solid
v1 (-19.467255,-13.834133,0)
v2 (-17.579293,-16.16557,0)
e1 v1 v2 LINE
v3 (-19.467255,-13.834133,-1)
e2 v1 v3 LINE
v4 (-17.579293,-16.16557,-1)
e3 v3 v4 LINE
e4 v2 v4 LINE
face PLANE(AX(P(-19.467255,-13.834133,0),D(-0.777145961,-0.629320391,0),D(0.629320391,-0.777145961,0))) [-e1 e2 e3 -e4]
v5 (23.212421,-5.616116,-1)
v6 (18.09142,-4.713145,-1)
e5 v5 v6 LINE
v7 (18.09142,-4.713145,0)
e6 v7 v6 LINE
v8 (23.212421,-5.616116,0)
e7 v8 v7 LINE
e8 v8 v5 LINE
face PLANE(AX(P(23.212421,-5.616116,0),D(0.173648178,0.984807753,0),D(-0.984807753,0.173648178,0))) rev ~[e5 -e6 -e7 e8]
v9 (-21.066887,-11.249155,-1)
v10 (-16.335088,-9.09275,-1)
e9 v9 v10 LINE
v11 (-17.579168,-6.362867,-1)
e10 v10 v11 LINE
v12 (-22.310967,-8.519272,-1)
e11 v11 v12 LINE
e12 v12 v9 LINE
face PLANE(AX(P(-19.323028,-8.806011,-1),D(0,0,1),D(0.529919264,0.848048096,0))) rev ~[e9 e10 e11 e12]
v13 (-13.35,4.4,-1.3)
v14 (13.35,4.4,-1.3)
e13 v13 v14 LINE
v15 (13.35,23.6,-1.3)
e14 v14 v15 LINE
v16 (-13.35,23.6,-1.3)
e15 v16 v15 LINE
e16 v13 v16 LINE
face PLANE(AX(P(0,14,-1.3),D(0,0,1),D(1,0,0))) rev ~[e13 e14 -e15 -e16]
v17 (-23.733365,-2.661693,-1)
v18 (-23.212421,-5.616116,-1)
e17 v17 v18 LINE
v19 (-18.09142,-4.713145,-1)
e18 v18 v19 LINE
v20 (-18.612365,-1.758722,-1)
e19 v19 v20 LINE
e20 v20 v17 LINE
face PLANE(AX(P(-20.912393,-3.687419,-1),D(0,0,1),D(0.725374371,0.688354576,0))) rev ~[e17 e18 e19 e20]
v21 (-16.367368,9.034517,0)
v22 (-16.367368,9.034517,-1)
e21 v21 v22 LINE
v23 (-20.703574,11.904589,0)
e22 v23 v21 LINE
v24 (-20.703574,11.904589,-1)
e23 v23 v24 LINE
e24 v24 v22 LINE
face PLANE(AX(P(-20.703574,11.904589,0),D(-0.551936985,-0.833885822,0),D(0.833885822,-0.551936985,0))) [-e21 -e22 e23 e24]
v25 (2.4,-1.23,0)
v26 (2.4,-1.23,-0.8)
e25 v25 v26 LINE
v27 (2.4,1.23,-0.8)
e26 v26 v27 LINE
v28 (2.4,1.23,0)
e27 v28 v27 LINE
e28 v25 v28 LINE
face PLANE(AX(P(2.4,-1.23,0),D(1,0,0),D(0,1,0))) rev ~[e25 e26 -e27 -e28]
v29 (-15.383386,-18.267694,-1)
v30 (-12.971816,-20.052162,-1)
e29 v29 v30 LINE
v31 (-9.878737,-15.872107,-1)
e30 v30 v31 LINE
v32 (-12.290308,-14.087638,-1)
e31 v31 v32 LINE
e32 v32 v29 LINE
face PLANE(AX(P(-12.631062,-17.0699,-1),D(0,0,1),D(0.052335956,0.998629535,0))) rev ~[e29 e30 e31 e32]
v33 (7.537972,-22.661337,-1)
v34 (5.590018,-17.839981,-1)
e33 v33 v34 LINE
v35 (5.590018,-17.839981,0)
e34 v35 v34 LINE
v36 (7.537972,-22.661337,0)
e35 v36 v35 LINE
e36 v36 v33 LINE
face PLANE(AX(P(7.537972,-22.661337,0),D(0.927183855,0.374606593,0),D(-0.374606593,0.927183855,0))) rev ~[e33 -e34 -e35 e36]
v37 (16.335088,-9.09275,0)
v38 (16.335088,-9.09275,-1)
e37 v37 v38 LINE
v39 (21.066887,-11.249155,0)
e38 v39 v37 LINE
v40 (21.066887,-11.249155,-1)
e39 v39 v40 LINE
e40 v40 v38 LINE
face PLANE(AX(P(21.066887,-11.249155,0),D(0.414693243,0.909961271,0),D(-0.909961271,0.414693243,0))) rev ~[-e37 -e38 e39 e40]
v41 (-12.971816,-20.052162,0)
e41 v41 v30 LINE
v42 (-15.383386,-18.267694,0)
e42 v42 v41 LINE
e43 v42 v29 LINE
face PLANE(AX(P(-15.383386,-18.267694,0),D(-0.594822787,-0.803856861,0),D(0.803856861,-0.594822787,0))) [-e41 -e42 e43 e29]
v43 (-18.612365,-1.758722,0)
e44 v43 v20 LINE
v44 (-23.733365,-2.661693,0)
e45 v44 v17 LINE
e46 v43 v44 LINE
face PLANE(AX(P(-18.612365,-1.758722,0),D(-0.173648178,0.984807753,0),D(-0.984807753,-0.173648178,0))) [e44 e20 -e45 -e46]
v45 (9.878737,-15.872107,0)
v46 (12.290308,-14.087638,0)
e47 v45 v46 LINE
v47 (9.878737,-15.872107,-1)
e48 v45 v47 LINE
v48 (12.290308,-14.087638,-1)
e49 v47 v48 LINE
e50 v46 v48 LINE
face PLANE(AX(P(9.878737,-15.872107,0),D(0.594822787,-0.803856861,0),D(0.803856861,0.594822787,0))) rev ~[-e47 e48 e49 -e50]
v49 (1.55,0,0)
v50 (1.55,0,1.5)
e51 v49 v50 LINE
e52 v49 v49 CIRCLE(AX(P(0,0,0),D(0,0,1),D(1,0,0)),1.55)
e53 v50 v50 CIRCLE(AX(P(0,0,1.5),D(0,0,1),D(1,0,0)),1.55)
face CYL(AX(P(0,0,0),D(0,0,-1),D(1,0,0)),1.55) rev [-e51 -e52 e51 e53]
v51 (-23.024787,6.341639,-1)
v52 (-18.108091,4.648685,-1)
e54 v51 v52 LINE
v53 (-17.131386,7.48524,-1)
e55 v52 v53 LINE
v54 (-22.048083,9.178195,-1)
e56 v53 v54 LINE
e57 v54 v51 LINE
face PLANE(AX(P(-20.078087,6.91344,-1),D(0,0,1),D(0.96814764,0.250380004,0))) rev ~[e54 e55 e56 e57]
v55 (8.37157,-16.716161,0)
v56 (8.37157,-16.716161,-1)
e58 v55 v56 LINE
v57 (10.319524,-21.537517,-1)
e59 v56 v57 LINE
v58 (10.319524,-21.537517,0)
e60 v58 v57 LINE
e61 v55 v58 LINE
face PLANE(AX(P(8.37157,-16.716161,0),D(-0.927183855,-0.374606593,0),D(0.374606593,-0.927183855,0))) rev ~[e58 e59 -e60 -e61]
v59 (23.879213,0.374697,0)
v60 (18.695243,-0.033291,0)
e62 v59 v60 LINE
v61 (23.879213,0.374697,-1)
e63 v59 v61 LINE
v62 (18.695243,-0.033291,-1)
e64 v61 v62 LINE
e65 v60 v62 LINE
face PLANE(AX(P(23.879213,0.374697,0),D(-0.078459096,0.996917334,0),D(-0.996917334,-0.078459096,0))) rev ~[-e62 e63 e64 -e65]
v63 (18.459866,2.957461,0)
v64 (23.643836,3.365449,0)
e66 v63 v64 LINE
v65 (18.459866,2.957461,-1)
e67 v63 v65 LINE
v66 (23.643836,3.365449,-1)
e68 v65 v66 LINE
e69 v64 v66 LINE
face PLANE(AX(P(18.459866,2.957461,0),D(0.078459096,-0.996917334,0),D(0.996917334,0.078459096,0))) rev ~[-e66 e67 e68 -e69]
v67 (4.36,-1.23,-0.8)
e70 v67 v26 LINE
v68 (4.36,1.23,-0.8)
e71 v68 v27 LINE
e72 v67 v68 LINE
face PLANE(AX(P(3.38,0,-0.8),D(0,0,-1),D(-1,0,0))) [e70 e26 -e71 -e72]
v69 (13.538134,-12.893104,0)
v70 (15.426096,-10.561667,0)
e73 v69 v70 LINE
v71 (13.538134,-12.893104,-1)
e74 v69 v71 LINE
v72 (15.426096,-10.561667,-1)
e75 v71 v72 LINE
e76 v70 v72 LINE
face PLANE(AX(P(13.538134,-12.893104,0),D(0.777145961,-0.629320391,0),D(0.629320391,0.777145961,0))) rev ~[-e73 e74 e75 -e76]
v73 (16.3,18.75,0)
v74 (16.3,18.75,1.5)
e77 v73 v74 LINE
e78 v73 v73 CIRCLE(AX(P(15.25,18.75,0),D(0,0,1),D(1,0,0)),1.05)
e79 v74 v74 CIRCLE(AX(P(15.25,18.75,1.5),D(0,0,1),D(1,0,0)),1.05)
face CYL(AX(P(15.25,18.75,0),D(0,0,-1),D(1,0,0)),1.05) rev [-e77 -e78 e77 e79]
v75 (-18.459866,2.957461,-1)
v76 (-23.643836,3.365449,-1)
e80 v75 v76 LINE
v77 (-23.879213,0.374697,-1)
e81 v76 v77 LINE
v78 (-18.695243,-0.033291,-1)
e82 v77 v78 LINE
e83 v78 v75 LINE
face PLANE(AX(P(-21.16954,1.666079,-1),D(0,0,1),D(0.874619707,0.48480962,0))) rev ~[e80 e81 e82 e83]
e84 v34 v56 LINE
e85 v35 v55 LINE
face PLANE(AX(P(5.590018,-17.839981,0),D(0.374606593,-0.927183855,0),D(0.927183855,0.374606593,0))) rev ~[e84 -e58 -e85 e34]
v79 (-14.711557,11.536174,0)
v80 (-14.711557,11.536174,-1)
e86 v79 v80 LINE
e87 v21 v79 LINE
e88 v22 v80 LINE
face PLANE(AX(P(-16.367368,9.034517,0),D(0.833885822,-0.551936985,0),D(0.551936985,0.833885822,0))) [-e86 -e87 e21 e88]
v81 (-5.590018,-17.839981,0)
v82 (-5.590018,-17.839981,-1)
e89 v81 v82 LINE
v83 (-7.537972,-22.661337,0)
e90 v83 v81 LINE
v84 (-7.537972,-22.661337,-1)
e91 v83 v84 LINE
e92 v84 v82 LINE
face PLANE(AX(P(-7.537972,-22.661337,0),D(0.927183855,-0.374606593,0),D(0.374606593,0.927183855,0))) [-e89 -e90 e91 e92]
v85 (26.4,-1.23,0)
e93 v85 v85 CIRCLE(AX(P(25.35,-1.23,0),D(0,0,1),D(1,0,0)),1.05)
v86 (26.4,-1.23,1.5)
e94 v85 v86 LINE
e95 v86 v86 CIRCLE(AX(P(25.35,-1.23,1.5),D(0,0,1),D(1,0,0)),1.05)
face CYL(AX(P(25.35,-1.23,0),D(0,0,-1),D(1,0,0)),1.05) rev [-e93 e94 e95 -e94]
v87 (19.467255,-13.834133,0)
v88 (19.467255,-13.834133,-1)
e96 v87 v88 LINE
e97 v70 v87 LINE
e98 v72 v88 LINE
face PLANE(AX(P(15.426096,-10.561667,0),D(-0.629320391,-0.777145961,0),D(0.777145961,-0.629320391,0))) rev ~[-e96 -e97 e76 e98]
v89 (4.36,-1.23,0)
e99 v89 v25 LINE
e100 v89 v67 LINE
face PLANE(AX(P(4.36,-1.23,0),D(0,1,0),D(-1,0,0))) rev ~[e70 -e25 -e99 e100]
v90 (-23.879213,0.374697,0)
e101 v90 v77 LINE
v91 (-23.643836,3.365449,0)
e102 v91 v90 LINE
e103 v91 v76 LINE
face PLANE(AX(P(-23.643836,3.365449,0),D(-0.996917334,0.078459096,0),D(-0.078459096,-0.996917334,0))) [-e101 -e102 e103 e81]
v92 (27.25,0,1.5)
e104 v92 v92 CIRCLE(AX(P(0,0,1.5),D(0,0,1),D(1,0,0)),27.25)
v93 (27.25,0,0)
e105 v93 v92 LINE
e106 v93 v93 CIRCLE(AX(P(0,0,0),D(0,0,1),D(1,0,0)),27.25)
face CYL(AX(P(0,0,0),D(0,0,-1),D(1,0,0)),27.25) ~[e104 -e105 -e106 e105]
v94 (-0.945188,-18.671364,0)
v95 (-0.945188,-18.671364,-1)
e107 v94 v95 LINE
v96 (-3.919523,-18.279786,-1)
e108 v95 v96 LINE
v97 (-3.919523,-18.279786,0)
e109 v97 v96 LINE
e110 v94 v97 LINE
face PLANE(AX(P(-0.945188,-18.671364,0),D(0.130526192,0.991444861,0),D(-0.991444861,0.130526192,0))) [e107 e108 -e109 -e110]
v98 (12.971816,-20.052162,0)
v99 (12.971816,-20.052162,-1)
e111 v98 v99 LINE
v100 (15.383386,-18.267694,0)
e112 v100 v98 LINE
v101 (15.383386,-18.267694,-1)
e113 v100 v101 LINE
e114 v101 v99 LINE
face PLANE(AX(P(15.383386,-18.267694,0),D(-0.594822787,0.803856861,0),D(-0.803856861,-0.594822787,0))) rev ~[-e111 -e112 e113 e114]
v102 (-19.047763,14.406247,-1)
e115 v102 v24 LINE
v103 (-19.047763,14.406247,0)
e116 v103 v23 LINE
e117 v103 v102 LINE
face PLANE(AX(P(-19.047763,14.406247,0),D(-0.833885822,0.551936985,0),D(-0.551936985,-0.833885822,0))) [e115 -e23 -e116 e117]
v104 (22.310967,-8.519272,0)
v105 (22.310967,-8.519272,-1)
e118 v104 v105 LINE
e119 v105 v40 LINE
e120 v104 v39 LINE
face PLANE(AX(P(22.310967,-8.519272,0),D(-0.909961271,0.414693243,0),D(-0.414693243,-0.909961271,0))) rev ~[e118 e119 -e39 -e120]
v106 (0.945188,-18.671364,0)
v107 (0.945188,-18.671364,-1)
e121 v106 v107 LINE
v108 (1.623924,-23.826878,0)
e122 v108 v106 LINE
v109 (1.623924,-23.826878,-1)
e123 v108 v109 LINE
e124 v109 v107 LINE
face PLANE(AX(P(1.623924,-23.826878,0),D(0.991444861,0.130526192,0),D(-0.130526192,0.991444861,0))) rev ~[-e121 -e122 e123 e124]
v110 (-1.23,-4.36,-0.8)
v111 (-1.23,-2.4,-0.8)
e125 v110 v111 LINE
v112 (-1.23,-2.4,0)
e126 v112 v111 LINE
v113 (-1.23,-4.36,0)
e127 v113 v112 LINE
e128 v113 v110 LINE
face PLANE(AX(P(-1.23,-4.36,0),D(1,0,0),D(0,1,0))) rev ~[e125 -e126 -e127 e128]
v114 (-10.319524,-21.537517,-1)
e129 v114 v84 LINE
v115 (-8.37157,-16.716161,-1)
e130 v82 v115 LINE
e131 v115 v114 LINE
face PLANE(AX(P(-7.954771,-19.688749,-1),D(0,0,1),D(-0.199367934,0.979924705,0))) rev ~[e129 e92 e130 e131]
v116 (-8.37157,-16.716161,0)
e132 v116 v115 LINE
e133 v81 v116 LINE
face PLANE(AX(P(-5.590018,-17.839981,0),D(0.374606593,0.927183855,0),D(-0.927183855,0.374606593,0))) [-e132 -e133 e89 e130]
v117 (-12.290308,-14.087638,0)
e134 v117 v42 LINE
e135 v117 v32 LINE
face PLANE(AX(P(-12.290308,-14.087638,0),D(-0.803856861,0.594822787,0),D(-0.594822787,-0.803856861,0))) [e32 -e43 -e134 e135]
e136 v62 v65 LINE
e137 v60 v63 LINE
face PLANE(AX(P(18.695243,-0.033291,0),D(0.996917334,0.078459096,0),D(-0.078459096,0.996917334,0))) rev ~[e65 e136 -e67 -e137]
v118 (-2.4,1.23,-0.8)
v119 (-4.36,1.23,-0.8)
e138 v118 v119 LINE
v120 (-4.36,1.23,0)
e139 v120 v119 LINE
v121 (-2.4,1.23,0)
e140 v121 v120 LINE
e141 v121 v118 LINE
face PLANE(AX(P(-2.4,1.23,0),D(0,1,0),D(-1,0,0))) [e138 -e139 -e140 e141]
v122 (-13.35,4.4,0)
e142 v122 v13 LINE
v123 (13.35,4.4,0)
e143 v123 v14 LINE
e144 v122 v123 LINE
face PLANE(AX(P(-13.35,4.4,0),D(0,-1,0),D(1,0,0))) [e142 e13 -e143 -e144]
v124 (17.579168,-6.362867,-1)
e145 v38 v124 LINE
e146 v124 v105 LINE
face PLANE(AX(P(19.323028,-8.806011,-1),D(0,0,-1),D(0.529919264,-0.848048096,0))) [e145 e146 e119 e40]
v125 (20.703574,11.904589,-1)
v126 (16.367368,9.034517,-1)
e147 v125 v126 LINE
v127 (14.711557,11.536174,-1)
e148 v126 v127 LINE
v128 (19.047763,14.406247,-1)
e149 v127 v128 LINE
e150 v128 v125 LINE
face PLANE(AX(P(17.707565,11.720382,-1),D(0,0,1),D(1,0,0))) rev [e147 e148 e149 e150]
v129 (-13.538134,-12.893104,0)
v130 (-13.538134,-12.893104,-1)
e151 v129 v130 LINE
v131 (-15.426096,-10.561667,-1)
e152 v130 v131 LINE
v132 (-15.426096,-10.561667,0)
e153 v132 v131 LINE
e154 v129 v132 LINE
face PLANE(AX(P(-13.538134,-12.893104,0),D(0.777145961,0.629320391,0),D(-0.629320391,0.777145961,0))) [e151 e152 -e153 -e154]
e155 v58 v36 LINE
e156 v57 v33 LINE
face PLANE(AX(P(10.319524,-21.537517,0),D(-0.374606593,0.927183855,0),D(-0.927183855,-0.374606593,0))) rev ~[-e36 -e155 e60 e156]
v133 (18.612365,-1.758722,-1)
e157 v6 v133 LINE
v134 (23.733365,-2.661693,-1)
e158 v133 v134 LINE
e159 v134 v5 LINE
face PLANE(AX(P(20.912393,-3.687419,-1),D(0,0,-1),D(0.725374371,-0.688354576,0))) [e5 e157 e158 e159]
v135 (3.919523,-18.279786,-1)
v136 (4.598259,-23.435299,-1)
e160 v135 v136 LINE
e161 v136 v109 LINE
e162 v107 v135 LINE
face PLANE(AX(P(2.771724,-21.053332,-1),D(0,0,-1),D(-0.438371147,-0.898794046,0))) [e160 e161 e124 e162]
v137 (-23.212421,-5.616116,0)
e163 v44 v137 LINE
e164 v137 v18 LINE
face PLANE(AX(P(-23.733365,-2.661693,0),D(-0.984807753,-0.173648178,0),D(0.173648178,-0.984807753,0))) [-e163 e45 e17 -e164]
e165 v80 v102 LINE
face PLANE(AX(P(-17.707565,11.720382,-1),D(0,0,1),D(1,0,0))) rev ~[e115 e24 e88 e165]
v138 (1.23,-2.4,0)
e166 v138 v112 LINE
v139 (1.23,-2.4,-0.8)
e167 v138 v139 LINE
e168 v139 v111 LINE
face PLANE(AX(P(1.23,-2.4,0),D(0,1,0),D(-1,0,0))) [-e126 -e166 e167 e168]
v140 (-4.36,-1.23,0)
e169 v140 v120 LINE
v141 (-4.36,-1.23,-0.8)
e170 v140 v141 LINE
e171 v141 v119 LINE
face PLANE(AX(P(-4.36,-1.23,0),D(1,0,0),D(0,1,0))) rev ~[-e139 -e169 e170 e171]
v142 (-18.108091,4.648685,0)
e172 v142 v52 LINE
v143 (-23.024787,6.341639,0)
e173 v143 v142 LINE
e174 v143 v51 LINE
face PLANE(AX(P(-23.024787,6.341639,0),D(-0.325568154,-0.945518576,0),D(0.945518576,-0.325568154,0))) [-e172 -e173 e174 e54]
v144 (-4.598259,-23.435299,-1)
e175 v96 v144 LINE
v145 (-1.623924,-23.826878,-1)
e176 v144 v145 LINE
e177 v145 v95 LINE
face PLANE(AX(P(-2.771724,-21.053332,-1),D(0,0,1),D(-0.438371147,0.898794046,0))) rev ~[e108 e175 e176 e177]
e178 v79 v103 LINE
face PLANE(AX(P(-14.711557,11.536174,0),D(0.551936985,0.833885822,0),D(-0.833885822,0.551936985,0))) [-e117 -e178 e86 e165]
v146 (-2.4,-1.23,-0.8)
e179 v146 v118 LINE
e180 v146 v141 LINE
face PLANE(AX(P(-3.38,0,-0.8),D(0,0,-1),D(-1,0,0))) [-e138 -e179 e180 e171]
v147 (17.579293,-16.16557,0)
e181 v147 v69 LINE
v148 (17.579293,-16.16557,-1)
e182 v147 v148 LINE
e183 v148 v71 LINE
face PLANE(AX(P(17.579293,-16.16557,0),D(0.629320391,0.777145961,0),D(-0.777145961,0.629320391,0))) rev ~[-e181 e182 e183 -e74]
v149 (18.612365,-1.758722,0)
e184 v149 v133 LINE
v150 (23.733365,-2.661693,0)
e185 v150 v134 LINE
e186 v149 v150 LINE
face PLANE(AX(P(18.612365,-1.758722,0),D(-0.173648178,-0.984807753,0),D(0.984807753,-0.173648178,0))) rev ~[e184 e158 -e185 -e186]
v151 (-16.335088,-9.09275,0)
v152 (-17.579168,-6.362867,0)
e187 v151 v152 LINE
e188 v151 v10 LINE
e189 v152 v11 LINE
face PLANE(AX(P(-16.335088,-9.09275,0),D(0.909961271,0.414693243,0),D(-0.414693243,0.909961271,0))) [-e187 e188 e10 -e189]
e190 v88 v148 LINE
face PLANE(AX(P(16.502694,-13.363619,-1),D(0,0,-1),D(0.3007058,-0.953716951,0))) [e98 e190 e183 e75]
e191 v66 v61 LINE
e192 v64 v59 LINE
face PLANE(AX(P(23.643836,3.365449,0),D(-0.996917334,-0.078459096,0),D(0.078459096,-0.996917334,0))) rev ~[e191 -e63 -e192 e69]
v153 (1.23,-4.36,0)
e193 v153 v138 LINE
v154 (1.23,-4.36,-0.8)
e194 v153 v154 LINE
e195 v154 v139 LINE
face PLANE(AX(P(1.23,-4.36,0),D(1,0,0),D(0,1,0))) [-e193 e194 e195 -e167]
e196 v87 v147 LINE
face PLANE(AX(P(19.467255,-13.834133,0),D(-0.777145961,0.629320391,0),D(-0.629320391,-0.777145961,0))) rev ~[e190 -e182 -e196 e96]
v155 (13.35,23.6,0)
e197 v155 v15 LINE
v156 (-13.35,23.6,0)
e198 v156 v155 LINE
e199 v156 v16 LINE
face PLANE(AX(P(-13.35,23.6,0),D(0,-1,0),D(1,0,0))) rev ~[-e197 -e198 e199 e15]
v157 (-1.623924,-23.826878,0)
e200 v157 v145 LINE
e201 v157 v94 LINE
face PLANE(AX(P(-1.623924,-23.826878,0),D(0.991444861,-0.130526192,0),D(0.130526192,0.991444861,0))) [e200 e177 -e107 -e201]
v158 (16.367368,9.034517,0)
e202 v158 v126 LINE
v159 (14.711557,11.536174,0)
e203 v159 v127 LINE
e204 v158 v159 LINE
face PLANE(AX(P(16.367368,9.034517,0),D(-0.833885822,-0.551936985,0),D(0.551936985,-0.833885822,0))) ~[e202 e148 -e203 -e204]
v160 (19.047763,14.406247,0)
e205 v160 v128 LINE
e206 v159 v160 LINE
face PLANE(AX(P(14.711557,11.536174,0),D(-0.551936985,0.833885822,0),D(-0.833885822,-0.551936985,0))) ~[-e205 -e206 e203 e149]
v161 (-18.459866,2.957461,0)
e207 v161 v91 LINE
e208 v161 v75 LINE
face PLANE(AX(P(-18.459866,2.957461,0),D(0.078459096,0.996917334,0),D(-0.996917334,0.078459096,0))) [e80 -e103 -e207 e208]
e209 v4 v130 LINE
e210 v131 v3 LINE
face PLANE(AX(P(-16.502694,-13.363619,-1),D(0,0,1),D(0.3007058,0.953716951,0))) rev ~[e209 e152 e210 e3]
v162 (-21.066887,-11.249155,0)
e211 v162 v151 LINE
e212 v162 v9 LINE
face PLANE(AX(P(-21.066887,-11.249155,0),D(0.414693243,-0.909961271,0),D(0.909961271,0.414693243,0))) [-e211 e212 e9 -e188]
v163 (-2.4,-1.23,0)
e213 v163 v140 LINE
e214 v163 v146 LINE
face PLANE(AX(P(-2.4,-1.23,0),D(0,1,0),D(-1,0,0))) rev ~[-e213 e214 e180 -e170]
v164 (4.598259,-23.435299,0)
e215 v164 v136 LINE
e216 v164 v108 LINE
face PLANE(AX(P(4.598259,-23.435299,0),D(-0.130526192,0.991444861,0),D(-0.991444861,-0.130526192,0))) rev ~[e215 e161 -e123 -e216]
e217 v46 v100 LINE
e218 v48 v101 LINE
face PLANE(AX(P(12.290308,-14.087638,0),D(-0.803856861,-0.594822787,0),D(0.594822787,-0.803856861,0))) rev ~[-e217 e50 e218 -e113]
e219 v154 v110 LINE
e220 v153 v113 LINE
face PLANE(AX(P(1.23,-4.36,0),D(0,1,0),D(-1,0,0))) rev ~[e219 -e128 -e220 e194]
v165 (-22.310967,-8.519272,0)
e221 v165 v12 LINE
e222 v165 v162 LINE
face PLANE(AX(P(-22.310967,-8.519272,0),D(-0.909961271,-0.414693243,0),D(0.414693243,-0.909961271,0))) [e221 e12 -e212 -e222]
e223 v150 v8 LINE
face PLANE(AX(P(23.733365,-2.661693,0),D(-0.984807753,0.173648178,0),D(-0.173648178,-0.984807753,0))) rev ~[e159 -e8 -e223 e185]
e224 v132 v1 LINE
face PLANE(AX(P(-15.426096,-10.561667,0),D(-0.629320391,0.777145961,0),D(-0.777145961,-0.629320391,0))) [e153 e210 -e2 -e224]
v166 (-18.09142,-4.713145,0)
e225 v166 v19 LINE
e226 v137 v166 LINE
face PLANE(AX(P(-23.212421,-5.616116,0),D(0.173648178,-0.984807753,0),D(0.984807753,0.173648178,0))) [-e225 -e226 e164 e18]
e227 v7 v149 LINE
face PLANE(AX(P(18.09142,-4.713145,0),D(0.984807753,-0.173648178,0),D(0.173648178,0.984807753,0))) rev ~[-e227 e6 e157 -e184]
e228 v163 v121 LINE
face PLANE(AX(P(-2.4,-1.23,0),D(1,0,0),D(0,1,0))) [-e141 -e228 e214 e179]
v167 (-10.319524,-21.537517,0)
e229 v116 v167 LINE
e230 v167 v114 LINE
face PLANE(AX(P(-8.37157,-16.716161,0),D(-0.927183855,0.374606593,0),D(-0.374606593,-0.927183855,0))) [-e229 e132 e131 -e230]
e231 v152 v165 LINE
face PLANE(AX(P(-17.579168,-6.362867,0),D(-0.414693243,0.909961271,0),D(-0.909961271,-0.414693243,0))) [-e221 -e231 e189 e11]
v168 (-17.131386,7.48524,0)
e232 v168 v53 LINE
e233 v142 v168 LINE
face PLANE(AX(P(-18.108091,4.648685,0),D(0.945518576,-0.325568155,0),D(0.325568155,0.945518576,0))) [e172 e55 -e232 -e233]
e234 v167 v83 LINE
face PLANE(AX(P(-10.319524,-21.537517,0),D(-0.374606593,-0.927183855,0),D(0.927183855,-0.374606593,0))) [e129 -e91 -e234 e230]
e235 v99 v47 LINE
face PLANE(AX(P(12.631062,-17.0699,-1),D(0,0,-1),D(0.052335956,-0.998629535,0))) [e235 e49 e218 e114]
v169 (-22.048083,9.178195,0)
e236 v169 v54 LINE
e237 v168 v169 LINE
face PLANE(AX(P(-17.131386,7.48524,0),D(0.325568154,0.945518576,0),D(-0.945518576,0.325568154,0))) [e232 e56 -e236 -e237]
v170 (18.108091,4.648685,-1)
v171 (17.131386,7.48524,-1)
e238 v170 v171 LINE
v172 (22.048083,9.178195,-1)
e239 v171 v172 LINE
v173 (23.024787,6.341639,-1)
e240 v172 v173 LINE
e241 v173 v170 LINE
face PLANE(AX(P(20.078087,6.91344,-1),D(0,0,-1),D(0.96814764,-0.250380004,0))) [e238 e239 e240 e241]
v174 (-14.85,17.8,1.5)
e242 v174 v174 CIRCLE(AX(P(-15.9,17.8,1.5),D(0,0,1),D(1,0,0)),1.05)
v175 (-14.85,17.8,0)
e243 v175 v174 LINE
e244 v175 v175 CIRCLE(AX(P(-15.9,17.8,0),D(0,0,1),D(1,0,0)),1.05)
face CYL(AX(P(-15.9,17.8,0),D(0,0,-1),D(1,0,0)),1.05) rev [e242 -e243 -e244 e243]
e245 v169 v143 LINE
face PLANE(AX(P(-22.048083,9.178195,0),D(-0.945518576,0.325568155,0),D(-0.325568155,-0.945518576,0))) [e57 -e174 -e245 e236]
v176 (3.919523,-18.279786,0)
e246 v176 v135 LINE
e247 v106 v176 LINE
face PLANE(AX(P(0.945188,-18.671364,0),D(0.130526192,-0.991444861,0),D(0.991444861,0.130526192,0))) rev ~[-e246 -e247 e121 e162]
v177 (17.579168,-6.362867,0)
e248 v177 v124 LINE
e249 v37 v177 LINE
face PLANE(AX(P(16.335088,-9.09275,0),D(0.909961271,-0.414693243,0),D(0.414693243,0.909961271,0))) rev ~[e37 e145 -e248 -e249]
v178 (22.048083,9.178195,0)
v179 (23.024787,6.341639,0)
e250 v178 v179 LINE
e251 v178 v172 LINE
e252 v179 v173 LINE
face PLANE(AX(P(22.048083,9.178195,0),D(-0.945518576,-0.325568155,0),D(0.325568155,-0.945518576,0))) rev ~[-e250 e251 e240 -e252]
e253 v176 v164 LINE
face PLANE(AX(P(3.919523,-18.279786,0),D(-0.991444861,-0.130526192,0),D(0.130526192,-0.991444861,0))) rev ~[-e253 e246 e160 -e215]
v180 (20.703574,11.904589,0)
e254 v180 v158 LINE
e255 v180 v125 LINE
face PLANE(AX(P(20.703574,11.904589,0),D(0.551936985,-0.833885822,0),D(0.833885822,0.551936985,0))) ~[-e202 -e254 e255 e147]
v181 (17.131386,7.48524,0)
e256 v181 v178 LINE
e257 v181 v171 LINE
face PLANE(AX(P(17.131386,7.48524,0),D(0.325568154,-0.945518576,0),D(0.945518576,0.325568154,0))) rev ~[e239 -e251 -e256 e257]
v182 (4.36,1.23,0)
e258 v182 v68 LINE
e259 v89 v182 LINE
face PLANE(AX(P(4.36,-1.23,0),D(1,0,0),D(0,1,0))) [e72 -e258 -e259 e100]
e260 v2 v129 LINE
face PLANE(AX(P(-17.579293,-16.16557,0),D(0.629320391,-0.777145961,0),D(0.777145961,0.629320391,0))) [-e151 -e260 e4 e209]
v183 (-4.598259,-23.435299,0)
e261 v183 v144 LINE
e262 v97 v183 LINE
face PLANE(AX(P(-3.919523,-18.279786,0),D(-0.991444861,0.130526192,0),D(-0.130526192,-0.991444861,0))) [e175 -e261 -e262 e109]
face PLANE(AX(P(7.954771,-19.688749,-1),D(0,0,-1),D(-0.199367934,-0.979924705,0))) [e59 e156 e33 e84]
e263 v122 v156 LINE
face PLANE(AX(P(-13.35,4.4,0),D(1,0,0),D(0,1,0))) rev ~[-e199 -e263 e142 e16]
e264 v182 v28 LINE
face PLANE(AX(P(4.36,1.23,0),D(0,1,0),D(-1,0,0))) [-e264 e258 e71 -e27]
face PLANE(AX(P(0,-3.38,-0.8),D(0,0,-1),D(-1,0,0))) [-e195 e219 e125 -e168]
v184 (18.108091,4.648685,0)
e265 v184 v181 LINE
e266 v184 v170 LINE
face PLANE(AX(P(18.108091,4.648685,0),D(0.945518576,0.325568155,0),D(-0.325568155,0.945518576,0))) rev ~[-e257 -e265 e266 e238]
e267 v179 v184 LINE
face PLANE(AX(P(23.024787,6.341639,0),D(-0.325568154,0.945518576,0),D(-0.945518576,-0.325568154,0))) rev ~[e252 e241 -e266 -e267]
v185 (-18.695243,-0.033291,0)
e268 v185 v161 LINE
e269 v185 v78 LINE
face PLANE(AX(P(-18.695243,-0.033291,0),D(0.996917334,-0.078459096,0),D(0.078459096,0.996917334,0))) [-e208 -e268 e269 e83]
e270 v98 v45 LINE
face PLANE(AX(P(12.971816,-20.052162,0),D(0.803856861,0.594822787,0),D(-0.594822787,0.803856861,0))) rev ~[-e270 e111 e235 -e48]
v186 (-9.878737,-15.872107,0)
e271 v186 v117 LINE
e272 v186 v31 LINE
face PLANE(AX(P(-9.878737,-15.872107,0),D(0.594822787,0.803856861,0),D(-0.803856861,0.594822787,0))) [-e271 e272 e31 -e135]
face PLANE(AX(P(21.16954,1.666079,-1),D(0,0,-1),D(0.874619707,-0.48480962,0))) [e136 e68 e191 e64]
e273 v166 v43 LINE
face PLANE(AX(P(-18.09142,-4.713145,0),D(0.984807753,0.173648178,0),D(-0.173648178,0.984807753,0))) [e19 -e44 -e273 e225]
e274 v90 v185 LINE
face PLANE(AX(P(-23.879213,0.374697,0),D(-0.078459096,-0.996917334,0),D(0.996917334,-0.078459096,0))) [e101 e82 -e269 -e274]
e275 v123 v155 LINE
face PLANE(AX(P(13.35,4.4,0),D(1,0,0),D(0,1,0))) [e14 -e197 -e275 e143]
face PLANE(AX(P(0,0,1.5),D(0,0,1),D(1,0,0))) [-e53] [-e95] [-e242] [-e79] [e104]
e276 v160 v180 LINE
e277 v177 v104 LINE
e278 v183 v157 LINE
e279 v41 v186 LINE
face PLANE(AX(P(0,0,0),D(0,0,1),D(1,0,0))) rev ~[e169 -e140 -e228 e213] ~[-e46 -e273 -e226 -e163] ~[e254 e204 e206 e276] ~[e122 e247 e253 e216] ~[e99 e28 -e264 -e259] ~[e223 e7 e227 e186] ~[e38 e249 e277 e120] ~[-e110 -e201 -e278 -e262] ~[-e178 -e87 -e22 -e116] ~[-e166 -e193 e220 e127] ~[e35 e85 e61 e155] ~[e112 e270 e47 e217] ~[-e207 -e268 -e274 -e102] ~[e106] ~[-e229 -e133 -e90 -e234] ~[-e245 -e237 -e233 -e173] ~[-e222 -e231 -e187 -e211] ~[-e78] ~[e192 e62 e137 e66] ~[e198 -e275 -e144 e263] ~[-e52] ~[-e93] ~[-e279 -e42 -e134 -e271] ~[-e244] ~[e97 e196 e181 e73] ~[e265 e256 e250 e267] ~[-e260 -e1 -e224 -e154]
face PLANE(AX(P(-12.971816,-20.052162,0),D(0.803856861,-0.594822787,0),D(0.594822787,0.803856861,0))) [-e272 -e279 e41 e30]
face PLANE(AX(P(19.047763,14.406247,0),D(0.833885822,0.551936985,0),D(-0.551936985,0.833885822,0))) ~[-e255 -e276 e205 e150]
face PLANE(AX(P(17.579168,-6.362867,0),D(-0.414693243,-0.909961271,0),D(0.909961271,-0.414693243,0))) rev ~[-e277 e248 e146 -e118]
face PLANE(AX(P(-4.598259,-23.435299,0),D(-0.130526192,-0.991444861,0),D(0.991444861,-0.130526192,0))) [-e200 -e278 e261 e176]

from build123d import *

# Parameters (mm, degrees)
SKETCH_1_R           = 27.25
SKETCH_1_R_2         = 1.05
SKETCH_1_R_3         = 1.55
EXTRUDE_1_DEPTH      = 1.5
SKETCH_2_W           = 26.7
SKETCH_2_H           = 19.2
EXTRUDE_2_DEPTH      = 1.3
BOSS_EXTRUDE1_DEPTH  = 1
CIRPATTERN1_COUNT    = 9
CIRPATTERN1_ANGLE    = 116
SKETCH2_W            = 2.46
SKETCH2_H            = 1.96
SKETCH2_W_2          = 1.96
SKETCH2_H_2          = 2.46
BOSS_EXTRUDE2_DEPTH  = 0.8
MIRROR1_COPY_1_DEPTH = 1
MIRROR1_COPY_2_DEPTH = 1
MIRROR1_COPY_3_DEPTH = 1
MIRROR1_COPY_4_DEPTH = 1
MIRROR1_COPY_5_DEPTH = 1
MIRROR1_COPY_6_DEPTH = 1
MIRROR1_COPY_7_DEPTH = 1
MIRROR1_COPY_8_DEPTH = 1


with BuildPart() as part:
    # Эскиз1 → Бобышка-Вытянуть1 (new body)
    with BuildSketch(Plane.XY):
        Circle(SKETCH_1_R)
        with Locations((-15.9, 17.8)):
            Circle(SKETCH_1_R_2, mode=Mode.SUBTRACT)
        with Locations((15.25, 18.75)):
            Circle(SKETCH_1_R_2, mode=Mode.SUBTRACT)
        with Locations((25.35, -1.23)):
            Circle(SKETCH_1_R_2, mode=Mode.SUBTRACT)
        Circle(SKETCH_1_R_3, mode=Mode.SUBTRACT)
    extrude(amount=EXTRUDE_1_DEPTH)

    # Эскиз2 → Бобышка-Вытянуть2 (add)
    with BuildSketch(Plane.XY):
        with Locations((0, 14)):
            Rectangle(SKETCH_2_W, SKETCH_2_H)
    extrude(amount=-EXTRUDE_2_DEPTH)

    # Sketch1 → Boss-Extrude1 (add)
    with BuildSketch(Plane(origin=(0, 0, 0), x_dir=(-1, 0, 0), z_dir=(0, 0, -1))):
        Polygon((19.047763091, 14.406246778), (20.703574047, 11.904589312), (16.367367772, 9.034516988), (14.711556816, 11.536174454), align=None)
    boss_extrude1 = extrude(amount=BOSS_EXTRUDE1_DEPTH)

    # CirPattern1: Boss-Extrude1 ×9 about axis
    cirpattern1_axis = Axis((0, 0, 0), (0, 0, 1))
    for i in range(1, CIRPATTERN1_COUNT):
        add(boss_extrude1.rotate(cirpattern1_axis, i * CIRPATTERN1_ANGLE / (CIRPATTERN1_COUNT - 1)))

    # Sketch2 → Boss-Extrude2 (add)
    with BuildSketch(Plane(origin=(0, 0, 0), x_dir=(-1, 0, 0), z_dir=(0, 0, -1))):
        with Locations((0, -3.38)):
            Rectangle(SKETCH2_W, SKETCH2_H)
        with Locations((-3.38, 0)):
            Rectangle(SKETCH2_W_2, SKETCH2_H_2)
        with Locations((3.38, 0)):
            Rectangle(SKETCH2_W_2, SKETCH2_H_2)
    extrude(amount=BOSS_EXTRUDE2_DEPTH)

    # Mirror1: Boss-Extrude1 across plane
    add(boss_extrude1.mirror(Plane(origin=(0, 0, 0), x_dir=(0, 0, 1), z_dir=(1, 0, 0))))

    # Mirror1 copy 1 sketch → Mirror1 copy 1 (add)
    with BuildSketch(Plane(origin=(0, 0, 0), x_dir=(0.9681476403781076, -0.25038000405444194, 0), z_dir=(0, 0, -1))):
        Polygon((19.047763091, -14.406246778), (20.703574047, -11.904589312), (16.367367772, -9.034516988), (14.711556816, -11.536174454), align=None)
    extrude(amount=MIRROR1_COPY_1_DEPTH)

    # Mirror1 copy 2 sketch → Mirror1 copy 2 (add)
    with BuildSketch(Plane(origin=(0, 0, 0), x_dir=(0.8746197071393953, -0.484809620246338, 0), z_dir=(0, 0, -1))):
        Polygon((19.047763091, -14.406246778), (20.703574047, -11.904589312), (16.367367772, -9.034516988), (14.711556816, -11.536174454), align=None)
    extrude(amount=MIRROR1_COPY_2_DEPTH)

    # Mirror1 copy 3 sketch → Mirror1 copy 3 (add)
    with BuildSketch(Plane(origin=(0, 0, 0), x_dir=(0.7253743710122864, -0.6883545756937552, 0), z_dir=(0, 0, -1))):
        Polygon((19.047763091, -14.406246778), (20.703574047, -11.904589312), (16.367367772, -9.034516988), (14.711556816, -11.536174454), align=None)
    extrude(amount=MIRROR1_COPY_3_DEPTH)

    # Mirror1 copy 4 sketch → Mirror1 copy 4 (add)
    with BuildSketch(Plane(origin=(0, 0, 0), x_dir=(0.529919264233203, -0.8480480961564272, 0), z_dir=(0, 0, -1))):
        Polygon((19.047763091, -14.406246778), (20.703574047, -11.904589312), (16.367367772, -9.034516988), (14.711556816, -11.536174454), align=None)
    extrude(amount=MIRROR1_COPY_4_DEPTH)

    # Mirror1 copy 5 sketch → Mirror1 copy 5 (add)
    with BuildSketch(Plane(origin=(0, 0, 0), x_dir=(0.3007057995042705, -0.9537169507482277, 0), z_dir=(0, 0, -1))):
        Polygon((19.047763091, -14.406246778), (20.703574047, -11.904589312), (16.367367772, -9.034516988), (14.711556816, -11.536174454), align=None)
    extrude(amount=MIRROR1_COPY_5_DEPTH)

    # Mirror1 copy 6 sketch → Mirror1 copy 6 (add)
    with BuildSketch(Plane(origin=(0, 0, 0), x_dir=(0.05233595624294042, -0.998629534754574, 0), z_dir=(0, 0, -1))):
        Polygon((19.047763091, -14.406246778), (20.703574047, -11.904589312), (16.367367772, -9.034516988), (14.711556816, -11.536174454), align=None)
    extrude(amount=MIRROR1_COPY_6_DEPTH)

    # Mirror1 copy 7 sketch → Mirror1 copy 7 (add)
    with BuildSketch(Plane(origin=(0, 0, 0), x_dir=(-0.199367934417201, -0.9799247046208288, 0), z_dir=(0, 0, -1))):
        Polygon((19.047763091, -14.406246778), (20.703574047, -11.904589312), (16.367367772, -9.034516988), (14.711556816, -11.536174454), align=None)
    extrude(amount=MIRROR1_COPY_7_DEPTH)

    # Mirror1 copy 8 sketch → Mirror1 copy 8 (add)
    with BuildSketch(Plane(origin=(0, 0, 0), x_dir=(-0.4383711467890815, -0.898794046299165, 0), z_dir=(0, 0, -1))):
        Polygon((19.047763091, -14.406246778), (20.703574047, -11.904589312), (16.367367772, -9.034516988), (14.711556816, -11.536174454), align=None)
    extrude(amount=MIRROR1_COPY_8_DEPTH)


solid = part.part
